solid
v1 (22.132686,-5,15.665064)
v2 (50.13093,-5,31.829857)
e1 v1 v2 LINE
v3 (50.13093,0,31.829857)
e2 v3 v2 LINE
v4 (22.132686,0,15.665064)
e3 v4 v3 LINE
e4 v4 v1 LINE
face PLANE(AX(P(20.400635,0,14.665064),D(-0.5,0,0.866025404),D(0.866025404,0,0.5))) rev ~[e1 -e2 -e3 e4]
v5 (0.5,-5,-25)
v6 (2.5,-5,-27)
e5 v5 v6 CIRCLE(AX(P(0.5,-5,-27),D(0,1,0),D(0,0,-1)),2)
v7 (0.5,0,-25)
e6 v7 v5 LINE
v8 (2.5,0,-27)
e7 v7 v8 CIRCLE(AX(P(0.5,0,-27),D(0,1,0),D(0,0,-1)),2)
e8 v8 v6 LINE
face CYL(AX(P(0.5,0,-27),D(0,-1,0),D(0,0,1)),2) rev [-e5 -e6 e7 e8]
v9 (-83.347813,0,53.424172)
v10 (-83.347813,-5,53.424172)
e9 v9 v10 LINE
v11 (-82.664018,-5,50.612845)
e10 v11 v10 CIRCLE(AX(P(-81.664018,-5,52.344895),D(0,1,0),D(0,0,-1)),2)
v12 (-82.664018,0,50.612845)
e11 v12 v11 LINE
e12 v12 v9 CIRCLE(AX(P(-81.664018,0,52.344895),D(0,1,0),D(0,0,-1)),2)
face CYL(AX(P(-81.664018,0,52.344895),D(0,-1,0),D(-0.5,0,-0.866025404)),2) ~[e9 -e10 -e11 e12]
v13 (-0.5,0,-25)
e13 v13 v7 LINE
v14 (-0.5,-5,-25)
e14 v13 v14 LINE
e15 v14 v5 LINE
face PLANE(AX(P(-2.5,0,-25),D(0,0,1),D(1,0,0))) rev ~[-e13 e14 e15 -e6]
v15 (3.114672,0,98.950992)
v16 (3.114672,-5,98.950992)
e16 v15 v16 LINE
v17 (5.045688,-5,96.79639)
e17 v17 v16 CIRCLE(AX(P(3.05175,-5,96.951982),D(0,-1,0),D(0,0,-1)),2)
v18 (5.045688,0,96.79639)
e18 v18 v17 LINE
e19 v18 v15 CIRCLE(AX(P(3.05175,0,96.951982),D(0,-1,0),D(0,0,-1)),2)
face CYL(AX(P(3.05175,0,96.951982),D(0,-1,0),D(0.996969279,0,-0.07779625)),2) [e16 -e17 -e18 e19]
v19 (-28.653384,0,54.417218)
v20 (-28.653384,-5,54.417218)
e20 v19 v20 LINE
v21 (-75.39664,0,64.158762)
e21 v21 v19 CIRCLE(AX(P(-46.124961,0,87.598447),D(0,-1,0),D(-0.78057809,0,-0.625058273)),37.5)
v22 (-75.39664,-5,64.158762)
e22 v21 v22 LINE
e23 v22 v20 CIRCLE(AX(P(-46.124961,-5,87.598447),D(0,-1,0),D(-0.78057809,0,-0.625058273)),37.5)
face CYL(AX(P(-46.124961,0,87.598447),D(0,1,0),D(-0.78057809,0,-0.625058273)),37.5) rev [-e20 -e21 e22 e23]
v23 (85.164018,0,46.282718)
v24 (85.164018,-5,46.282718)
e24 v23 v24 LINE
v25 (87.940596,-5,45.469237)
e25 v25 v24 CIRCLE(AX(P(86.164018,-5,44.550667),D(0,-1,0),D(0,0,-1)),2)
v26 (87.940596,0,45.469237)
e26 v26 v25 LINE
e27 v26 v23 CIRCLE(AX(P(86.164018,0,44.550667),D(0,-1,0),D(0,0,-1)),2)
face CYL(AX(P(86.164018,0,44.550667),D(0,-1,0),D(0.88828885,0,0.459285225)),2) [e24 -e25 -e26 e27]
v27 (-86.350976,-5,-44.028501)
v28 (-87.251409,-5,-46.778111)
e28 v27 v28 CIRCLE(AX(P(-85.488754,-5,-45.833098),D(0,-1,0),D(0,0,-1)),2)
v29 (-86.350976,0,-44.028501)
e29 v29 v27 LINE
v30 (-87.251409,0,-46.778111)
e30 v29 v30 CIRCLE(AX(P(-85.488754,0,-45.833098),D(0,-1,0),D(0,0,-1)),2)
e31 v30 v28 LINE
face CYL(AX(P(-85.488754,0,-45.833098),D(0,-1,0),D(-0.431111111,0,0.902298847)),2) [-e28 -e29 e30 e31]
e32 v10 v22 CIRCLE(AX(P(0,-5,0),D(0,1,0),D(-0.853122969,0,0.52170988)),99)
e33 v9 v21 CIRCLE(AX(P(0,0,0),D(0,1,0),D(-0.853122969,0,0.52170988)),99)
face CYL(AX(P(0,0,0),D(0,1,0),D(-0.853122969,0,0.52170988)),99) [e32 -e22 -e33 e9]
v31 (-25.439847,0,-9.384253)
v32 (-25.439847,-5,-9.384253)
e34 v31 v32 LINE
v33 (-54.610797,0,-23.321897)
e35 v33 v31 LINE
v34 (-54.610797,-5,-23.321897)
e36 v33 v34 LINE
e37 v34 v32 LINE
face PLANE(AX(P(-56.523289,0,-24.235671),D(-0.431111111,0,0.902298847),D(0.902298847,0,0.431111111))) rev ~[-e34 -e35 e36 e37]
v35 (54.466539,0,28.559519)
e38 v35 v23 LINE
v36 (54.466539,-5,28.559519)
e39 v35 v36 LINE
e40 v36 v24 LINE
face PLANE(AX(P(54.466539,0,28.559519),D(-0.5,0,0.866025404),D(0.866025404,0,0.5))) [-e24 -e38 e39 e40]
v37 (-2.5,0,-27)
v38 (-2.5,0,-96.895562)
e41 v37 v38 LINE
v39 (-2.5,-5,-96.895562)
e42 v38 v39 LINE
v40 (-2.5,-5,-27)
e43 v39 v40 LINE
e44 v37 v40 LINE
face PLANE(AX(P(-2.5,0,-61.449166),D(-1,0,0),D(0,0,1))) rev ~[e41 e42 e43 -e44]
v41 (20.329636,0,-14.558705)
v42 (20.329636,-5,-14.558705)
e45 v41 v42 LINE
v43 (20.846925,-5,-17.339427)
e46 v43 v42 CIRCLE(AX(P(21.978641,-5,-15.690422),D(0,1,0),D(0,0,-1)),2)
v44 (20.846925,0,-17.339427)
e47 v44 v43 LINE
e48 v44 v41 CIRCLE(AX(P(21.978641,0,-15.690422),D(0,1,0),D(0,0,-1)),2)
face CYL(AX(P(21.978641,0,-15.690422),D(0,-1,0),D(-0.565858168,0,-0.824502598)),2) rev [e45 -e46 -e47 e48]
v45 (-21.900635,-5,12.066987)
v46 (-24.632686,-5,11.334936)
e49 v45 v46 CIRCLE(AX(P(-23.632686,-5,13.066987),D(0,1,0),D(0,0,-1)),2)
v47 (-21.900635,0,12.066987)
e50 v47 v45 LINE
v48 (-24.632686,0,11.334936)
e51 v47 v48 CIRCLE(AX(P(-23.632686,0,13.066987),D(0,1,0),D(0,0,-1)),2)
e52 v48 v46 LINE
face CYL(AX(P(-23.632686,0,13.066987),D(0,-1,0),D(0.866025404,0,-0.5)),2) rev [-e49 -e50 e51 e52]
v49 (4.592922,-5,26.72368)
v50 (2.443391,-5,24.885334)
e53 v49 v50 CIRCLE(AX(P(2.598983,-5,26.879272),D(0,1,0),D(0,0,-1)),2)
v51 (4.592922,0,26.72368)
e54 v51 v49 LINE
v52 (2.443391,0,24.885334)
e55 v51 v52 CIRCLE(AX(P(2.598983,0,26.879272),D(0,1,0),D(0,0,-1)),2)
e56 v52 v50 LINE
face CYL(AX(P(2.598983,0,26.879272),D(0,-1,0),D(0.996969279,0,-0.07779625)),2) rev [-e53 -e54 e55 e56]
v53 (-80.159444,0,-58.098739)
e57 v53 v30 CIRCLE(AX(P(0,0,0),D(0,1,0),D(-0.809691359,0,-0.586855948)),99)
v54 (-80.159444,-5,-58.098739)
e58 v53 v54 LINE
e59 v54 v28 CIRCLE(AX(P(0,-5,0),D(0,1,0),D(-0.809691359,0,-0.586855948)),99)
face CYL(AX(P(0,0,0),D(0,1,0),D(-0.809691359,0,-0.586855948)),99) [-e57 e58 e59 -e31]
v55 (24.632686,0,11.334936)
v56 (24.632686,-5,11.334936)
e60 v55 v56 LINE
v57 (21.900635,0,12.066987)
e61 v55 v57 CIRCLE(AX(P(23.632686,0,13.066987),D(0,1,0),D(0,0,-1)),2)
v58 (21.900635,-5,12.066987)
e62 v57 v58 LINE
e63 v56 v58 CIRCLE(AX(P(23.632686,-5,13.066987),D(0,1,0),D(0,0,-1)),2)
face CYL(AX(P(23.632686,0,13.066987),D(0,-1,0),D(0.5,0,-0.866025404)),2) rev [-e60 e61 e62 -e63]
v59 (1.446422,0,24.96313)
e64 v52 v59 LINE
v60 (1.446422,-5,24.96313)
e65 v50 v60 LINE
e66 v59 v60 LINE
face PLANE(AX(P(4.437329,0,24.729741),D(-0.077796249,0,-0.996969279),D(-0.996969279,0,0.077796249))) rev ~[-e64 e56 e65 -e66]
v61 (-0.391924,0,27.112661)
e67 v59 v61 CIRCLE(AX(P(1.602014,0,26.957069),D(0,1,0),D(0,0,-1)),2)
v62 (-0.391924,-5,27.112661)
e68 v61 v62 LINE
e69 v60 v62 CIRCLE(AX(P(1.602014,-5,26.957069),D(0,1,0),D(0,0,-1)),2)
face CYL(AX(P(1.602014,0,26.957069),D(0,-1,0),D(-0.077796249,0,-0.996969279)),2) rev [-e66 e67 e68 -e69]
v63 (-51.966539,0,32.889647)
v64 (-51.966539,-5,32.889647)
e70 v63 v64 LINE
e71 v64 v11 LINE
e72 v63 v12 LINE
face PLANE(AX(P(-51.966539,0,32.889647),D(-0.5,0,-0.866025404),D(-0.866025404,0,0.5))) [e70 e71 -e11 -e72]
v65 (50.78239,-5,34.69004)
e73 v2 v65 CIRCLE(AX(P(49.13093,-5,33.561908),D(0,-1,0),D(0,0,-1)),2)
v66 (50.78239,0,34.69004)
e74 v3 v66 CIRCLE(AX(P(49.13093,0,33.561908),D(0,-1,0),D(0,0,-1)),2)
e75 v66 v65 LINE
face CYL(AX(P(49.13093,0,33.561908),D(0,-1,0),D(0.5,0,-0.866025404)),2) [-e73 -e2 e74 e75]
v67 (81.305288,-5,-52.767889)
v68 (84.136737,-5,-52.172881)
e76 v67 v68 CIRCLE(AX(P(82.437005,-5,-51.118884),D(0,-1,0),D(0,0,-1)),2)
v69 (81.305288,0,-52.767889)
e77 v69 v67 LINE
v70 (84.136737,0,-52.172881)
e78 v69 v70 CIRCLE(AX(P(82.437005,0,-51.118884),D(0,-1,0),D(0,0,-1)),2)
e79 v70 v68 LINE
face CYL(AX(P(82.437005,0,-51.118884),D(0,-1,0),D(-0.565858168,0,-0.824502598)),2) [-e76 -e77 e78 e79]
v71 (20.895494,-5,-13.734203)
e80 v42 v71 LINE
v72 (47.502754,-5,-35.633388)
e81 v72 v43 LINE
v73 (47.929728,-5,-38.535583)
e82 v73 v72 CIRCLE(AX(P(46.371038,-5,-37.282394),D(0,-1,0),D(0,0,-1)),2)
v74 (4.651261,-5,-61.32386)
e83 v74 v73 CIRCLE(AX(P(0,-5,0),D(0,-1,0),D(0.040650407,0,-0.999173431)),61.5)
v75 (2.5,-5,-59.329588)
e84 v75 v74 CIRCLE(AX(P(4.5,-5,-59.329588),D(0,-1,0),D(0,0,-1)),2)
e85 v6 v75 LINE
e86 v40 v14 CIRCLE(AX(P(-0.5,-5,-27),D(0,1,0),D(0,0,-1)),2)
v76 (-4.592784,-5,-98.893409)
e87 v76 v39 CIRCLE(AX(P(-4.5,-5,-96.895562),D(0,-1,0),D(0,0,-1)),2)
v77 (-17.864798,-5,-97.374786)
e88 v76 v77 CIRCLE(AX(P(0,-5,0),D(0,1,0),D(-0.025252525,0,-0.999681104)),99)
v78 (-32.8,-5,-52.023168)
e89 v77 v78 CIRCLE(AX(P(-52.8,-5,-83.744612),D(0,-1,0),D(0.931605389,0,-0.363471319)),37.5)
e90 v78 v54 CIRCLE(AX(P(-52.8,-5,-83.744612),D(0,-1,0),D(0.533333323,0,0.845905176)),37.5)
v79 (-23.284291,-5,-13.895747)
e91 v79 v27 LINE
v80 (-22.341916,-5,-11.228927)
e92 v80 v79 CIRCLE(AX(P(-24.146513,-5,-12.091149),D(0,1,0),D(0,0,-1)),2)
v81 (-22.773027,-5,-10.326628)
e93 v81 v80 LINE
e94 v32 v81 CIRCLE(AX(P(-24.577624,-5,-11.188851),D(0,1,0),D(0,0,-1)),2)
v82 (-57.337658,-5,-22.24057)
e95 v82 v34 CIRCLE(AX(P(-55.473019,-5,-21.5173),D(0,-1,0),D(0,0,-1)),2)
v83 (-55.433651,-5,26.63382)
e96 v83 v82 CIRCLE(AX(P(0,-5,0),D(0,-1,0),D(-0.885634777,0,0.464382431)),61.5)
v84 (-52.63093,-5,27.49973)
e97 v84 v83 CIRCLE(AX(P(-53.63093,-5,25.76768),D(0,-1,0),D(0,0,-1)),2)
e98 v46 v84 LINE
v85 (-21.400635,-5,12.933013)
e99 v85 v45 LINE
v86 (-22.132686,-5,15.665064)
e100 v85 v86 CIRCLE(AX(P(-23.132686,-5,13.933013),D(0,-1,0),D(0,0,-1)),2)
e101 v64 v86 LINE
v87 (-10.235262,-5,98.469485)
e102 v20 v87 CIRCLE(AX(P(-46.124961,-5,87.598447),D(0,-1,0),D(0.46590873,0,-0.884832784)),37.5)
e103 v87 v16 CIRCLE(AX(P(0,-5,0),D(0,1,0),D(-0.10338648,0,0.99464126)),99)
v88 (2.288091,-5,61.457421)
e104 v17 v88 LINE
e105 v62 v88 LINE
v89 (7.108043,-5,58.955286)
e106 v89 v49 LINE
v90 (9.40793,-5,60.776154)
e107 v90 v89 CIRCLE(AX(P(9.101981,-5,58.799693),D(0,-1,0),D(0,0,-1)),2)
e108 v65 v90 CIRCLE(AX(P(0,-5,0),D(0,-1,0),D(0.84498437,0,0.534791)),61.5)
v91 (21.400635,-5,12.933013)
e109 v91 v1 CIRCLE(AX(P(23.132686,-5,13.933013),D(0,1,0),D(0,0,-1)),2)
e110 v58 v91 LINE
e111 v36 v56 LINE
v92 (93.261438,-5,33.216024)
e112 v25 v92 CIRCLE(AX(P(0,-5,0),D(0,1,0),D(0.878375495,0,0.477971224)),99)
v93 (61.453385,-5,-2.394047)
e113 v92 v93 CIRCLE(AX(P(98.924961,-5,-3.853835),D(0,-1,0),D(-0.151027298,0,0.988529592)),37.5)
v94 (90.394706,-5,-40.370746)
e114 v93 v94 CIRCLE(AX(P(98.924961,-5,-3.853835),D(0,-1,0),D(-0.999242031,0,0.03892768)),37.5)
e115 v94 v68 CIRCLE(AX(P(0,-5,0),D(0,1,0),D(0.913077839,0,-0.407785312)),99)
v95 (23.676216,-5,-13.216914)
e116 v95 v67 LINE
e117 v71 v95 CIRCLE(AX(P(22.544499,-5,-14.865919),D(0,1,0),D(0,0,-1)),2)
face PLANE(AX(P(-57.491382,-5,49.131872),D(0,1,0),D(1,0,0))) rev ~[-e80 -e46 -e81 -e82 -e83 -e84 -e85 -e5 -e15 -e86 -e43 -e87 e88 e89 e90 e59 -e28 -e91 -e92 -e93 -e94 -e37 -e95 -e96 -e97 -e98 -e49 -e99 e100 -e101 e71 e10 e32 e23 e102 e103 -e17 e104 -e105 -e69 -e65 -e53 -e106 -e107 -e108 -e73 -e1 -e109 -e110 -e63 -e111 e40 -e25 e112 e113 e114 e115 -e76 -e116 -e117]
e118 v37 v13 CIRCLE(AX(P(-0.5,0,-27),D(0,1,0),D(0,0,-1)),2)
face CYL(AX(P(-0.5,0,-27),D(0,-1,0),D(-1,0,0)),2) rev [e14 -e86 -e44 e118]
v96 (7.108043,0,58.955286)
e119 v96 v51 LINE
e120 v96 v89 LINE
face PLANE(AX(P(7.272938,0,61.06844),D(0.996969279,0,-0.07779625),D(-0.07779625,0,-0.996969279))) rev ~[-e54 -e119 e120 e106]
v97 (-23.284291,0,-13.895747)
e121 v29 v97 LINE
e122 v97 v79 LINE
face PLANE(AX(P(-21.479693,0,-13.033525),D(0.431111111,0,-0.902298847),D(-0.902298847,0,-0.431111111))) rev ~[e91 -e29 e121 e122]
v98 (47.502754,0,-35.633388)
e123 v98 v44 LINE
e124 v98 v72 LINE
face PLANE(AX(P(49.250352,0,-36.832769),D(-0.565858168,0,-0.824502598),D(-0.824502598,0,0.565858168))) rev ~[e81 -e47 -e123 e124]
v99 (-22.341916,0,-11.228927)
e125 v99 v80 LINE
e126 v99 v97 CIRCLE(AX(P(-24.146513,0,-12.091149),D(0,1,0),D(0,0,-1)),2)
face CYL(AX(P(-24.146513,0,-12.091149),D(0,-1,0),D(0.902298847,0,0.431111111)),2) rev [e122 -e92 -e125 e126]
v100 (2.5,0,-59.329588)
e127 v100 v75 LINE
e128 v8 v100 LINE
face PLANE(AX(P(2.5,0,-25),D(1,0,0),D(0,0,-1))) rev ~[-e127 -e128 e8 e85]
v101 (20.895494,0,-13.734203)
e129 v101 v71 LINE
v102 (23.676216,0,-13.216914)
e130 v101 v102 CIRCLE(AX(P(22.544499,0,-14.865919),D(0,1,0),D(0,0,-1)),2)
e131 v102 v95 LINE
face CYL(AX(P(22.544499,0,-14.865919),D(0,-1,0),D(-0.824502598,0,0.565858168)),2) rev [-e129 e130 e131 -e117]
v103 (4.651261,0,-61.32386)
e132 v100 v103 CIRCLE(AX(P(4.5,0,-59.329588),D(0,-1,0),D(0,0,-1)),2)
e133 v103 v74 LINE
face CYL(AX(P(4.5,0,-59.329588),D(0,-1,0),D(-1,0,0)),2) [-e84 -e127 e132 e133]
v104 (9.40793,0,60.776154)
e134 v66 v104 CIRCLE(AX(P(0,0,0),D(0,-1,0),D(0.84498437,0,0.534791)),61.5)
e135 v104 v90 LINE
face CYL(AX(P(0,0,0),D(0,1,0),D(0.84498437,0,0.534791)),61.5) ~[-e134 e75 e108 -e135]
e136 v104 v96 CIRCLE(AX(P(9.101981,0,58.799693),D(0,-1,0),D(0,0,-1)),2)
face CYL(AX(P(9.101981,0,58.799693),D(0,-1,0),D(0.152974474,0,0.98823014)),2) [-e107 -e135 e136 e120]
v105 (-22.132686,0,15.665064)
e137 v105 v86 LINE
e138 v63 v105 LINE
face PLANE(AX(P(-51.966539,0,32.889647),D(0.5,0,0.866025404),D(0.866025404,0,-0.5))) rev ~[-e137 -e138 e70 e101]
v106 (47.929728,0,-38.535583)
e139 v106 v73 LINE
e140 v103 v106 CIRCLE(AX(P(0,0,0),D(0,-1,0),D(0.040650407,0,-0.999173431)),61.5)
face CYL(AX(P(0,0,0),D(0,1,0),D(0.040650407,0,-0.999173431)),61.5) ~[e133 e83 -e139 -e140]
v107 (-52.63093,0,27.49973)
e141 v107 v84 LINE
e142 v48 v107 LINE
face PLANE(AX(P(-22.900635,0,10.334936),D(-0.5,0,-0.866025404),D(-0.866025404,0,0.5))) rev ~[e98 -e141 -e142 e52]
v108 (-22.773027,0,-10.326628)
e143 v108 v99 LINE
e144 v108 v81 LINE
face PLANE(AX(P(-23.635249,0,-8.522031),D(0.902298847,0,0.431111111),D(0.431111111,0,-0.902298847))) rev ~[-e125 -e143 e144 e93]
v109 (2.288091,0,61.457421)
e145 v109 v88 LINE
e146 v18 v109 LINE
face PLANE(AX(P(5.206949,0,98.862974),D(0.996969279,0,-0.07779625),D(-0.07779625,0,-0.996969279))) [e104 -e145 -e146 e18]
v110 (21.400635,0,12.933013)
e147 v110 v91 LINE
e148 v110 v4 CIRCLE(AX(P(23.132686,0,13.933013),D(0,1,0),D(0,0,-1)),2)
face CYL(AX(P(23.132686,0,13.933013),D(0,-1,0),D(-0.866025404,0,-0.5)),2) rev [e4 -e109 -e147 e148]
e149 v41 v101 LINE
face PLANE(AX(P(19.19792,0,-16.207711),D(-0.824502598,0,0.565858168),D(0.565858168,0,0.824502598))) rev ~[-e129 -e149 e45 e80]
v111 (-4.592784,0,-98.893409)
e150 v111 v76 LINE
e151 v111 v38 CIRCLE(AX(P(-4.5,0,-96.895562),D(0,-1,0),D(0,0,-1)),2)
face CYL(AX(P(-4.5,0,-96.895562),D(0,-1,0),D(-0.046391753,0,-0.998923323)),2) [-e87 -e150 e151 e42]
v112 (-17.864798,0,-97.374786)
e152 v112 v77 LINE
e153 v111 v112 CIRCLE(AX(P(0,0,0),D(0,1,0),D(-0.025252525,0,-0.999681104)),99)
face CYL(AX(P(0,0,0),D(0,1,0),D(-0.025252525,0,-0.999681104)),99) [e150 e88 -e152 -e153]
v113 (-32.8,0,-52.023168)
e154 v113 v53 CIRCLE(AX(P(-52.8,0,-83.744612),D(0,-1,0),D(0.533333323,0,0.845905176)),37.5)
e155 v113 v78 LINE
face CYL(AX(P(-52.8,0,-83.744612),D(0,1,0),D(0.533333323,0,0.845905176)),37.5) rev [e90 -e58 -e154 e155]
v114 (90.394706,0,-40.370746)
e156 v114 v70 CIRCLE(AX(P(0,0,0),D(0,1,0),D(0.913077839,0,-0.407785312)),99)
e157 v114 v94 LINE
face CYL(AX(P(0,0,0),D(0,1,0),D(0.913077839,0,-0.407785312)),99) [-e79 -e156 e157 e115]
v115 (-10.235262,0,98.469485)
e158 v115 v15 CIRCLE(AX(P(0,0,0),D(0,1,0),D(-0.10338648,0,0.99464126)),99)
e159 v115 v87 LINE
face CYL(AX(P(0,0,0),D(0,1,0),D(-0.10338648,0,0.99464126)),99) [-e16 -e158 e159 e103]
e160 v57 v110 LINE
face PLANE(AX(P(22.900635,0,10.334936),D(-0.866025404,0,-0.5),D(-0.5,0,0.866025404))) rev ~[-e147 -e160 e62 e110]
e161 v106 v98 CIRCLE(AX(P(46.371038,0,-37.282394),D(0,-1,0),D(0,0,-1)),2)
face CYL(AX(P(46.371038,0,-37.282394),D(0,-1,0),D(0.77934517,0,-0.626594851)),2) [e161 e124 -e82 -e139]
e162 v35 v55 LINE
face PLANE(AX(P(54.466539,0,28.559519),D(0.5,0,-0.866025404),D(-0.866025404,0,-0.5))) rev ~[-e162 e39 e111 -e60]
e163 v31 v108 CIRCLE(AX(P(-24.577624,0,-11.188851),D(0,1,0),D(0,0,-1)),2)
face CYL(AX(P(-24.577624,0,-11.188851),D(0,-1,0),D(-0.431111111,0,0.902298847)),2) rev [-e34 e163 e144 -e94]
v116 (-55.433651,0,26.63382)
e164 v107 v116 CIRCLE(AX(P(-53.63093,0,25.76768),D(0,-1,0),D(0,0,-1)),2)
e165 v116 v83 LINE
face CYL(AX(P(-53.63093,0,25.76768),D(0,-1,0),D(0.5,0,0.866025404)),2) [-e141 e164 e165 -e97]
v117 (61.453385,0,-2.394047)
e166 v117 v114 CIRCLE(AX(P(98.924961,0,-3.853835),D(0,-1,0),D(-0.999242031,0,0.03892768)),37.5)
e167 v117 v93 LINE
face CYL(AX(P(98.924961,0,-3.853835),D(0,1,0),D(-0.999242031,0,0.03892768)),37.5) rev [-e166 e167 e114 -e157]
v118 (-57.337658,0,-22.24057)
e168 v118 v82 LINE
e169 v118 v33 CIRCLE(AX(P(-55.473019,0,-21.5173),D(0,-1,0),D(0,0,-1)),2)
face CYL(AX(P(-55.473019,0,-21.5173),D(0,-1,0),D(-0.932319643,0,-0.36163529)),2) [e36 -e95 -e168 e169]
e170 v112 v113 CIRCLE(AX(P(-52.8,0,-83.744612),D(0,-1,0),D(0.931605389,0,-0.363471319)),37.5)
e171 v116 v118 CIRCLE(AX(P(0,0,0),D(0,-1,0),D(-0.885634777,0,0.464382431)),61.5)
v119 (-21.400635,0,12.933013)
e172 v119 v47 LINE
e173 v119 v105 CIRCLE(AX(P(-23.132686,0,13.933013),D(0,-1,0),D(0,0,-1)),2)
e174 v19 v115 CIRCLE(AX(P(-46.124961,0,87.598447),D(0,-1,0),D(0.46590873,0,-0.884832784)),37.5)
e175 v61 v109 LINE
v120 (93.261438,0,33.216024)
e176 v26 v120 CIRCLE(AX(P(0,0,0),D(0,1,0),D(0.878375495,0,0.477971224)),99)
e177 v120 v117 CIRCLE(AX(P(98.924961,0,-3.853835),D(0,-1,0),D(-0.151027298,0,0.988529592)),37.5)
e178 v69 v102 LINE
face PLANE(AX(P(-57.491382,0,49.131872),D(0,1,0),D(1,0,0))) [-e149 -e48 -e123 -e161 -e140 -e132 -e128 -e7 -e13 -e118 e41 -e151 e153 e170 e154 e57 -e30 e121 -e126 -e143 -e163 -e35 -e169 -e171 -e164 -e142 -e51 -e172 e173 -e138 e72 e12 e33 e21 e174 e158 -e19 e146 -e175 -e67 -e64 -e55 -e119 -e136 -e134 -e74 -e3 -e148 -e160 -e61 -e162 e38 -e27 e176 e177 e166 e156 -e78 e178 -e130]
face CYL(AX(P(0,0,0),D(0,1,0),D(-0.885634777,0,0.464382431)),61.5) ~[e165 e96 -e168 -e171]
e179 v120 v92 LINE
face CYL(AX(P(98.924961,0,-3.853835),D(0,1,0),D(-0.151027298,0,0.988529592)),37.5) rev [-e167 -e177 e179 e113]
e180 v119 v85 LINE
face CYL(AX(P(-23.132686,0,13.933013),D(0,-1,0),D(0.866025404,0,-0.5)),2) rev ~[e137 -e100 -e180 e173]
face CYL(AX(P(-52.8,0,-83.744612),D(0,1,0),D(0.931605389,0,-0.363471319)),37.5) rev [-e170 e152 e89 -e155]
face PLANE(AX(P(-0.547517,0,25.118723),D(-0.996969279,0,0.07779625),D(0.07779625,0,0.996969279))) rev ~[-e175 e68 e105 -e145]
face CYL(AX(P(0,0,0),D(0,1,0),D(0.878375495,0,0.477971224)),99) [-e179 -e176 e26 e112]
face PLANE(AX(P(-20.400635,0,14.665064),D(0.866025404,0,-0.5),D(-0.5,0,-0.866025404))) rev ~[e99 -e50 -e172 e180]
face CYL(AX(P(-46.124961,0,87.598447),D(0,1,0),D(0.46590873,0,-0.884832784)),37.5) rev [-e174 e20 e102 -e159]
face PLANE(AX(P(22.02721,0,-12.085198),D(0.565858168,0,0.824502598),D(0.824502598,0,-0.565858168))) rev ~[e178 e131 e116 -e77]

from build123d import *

# Parameters (mm, degrees)
EXTRUDE_1_DEPTH = 5
EXTRUDE_2_DEPTH = 5
FILLET_1_R      = 2


with BuildPart() as part:
    # 草圖1 → 填料-伸長1 (new body)
    with BuildSketch(Plane(origin=(0, 0, 0), x_dir=(1, 0, 0), z_dir=(0, 1, 0))):
        with BuildLine():
            Line((54.466538783, -28.559519482), (22.900635095, -10.334936491))
            Line((22.900635095, -10.334936491), (20.400635095, -14.665063509))
            Line((20.400635095, -14.665063509), (51.966538783, -32.889646501))
            ThreePointArc((51.966538783, -32.889646501), (32.8, -52.023167916), (7.272937851, -61.06844009))
            Line((7.272937851, -61.06844009), (4.437329437, -24.729741355))
            Line((4.437329437, -24.729741355), (-0.547516958, -25.118722602))
            Line((-0.547516958, -25.118722602), (2.288091456, -61.457421338))
            ThreePointArc((2.288091456, -61.457421338), (-28.653385, -54.417217202), (-51.966538783, -32.889646501))
            Line((-51.966538783, -32.889646501), (-20.400635095, -14.665063509))
            Line((-20.400635095, -14.665063509), (-22.900635095, -10.334936491))
            Line((-22.900635095, -10.334936491), (-54.466538783, -28.559519482))
            ThreePointArc((-54.466538783, -28.559519482), (-61.453385, -2.394049286), (-56.523289413, 24.235671105))
            Line((-56.523289413, 24.235671105), (-23.635248961, 8.522030659))
            Line((-23.635248961, 8.522030659), (-21.479693405, 13.033524896))
            Line((-21.479693405, 13.033524896), (-54.367733857, 28.747165342))
            ThreePointArc((-54.367733857, 28.747165342), (-32.8, 52.023167916), (-2.5, 61.449165983))
            Line((-2.5, 61.449165983), (-2.5, 25))
            Line((-2.5, 25), (2.5, 25))
            Line((2.5, 25), (2.5, 61.449165983))
            ThreePointArc((2.5, 61.449165983), (28.653385, 54.417217202), (49.250351562, 36.832768984))
            Line((49.250351562, 36.832768984), (19.197919523, 16.207710695))
            Line((19.197919523, 16.207710695), (22.027210363, 12.085197706))
            Line((22.027210363, 12.085197706), (52.079642402, 32.710255996))
            ThreePointArc((52.079642402, 32.710255996), (61.453385, 2.394049286), (54.466538783, -28.559519482))
        make_face()
    extrude(amount=-EXTRUDE_1_DEPTH)

    # 草圖2 → 填料-伸長2 (add)
    with BuildSketch(Plane(origin=(0, 0, 0), x_dir=(1, 0, 0), z_dir=(0, 1, 0))):
        with BuildLine():
            ThreePointArc((-28.653383827, -54.41721782), (-41.72232091, -45.182938571), (-51.966538783, -32.889646501))
            Line((-51.966538783, -32.889646501), (-84.459173955, -51.649278164))
            ThreePointArc((-84.459173955, -51.649278164), (-80.172265021, -58.081046146), (-75.396639607, -64.158761958))
            ThreePointArc((-75.396639607, -64.158761958), (-53.775779243, -50.887209365), (-28.653383827, -54.41721782))
        make_face()
        with BuildLine():
            ThreePointArc((2.288091456, -61.457421338), (-13.644532856, -59.967297114), (-28.653383827, -54.41721782))
            ThreePointArc((-28.653383827, -54.41721782), (-11.527171875, -73.133213972), (-10.235261538, -98.469484721))
            ThreePointArc((-10.235261538, -98.469484721), (-2.521842415, -98.967875146), (5.20694943, -98.86297425))
            Line((5.20694943, -98.86297425), (2.288091456, -61.457421338))
        make_face()
        with BuildLine():
            ThreePointArc((61.453385072, 2.394047453), (59.990732727, -13.541122069), (54.466538783, -28.559519482))
            Line((54.466538783, -28.559519482), (86.959173955, -47.319151145))
            ThreePointArc((86.959173955, -47.319151145), (90.385793951, -40.390695114), (93.261437534, -33.216024281))
            ThreePointArc((93.261437534, -33.216024281), (70.957506712, -21.127587428), (61.453385072, 2.394047453))
        make_face()
        with BuildLine():
            ThreePointArc((52.079642402, 32.710255996), (58.755469592, 18.167134971), (61.453385072, 2.394047453))
            ThreePointArc((61.453385072, 2.394047453), (69.09880614, 26.583782051), (90.394706035, 40.370745854))
            ThreePointArc((90.394706035, 40.370745854), (86.969615242, 47.299957977), (83.01437248, 53.940837608))
            Line((83.01437248, 53.940837608), (52.079642402, 32.710255996))
        make_face()
        with BuildLine():
            ThreePointArc((-32.800000376, 52.023167679), (-18.268411744, 58.724059229), (-2.5, 61.449165983))
            Line((-2.5, 61.449165983), (-2.5, 98.96842931))
            ThreePointArc((-2.5, 98.96842931), (-10.21352893, 98.47174126), (-17.864797927, 97.374786239))
            ThreePointArc((-17.864797927, 97.374786239), (-17.181726279, 72.014796034), (-32.800000376, 52.023167679))
        make_face()
        with BuildLine():
            ThreePointArc((-54.367733857, 28.747165342), (-45.110935969, 41.800160956), (-32.800000376, 52.023167679))
            ThreePointArc((-32.800000376, 52.023167679), (-57.571634785, 46.549430608), (-80.159444497, 58.098738867))
            ThreePointArc((-80.159444497, 58.098738867), (-84.447772827, 51.667917169), (-88.221321909, 44.922136643))
            Line((-88.221321909, 44.922136643), (-54.367733857, 28.747165342))
        make_face()
    extrude(amount=-EXTRUDE_2_DEPTH)

    # 圓角1
    fillet_1_edges = [part.edges().sort_by_distance(p)[0] for p in [
        (83.01437248, -2.5, -53.940837608),
        (-2.5, -2.5, -98.96842931),
        (-88.221321909, -2.5, -44.922136643),
        (4.437329437, -2.5, 24.729741355),
        (-0.547516958, -2.5, 25.118722602),
        (-20.400635095, -2.5, 14.665063509),
        (-22.900635095, -2.5, 10.334936491),
        (-54.466538783, -2.5, 28.559519482),
        (-56.523289413, -2.5, -24.235671105),
        (-23.635248961, -2.5, -8.522030659),
        (-21.479693405, -2.5, -13.033524896),
        (-2.5, -2.5, -25),
        (2.5, -2.5, -25),
        (2.5, -2.5, -61.449165983),
        (49.250351562, -2.5, -36.832768984),
        (19.197919523, -2.5, -16.207710695),
        (22.027210363, -2.5, -12.085197706),
        (22.900635095, -2.5, 10.334936491),
        (20.400635095, -2.5, 14.665063509),
        (51.966538783, -2.5, 32.889646501),
        (7.272937851, -2.5, 61.06844009),
        (-84.459173955, -2.5, 51.649278164),
        (5.20694943, -2.5, 98.86297425),
        (86.959173955, -2.5, 47.319151145),
    ]]
    fillet(fillet_1_edges, radius=FILLET_1_R)


solid = part.part
